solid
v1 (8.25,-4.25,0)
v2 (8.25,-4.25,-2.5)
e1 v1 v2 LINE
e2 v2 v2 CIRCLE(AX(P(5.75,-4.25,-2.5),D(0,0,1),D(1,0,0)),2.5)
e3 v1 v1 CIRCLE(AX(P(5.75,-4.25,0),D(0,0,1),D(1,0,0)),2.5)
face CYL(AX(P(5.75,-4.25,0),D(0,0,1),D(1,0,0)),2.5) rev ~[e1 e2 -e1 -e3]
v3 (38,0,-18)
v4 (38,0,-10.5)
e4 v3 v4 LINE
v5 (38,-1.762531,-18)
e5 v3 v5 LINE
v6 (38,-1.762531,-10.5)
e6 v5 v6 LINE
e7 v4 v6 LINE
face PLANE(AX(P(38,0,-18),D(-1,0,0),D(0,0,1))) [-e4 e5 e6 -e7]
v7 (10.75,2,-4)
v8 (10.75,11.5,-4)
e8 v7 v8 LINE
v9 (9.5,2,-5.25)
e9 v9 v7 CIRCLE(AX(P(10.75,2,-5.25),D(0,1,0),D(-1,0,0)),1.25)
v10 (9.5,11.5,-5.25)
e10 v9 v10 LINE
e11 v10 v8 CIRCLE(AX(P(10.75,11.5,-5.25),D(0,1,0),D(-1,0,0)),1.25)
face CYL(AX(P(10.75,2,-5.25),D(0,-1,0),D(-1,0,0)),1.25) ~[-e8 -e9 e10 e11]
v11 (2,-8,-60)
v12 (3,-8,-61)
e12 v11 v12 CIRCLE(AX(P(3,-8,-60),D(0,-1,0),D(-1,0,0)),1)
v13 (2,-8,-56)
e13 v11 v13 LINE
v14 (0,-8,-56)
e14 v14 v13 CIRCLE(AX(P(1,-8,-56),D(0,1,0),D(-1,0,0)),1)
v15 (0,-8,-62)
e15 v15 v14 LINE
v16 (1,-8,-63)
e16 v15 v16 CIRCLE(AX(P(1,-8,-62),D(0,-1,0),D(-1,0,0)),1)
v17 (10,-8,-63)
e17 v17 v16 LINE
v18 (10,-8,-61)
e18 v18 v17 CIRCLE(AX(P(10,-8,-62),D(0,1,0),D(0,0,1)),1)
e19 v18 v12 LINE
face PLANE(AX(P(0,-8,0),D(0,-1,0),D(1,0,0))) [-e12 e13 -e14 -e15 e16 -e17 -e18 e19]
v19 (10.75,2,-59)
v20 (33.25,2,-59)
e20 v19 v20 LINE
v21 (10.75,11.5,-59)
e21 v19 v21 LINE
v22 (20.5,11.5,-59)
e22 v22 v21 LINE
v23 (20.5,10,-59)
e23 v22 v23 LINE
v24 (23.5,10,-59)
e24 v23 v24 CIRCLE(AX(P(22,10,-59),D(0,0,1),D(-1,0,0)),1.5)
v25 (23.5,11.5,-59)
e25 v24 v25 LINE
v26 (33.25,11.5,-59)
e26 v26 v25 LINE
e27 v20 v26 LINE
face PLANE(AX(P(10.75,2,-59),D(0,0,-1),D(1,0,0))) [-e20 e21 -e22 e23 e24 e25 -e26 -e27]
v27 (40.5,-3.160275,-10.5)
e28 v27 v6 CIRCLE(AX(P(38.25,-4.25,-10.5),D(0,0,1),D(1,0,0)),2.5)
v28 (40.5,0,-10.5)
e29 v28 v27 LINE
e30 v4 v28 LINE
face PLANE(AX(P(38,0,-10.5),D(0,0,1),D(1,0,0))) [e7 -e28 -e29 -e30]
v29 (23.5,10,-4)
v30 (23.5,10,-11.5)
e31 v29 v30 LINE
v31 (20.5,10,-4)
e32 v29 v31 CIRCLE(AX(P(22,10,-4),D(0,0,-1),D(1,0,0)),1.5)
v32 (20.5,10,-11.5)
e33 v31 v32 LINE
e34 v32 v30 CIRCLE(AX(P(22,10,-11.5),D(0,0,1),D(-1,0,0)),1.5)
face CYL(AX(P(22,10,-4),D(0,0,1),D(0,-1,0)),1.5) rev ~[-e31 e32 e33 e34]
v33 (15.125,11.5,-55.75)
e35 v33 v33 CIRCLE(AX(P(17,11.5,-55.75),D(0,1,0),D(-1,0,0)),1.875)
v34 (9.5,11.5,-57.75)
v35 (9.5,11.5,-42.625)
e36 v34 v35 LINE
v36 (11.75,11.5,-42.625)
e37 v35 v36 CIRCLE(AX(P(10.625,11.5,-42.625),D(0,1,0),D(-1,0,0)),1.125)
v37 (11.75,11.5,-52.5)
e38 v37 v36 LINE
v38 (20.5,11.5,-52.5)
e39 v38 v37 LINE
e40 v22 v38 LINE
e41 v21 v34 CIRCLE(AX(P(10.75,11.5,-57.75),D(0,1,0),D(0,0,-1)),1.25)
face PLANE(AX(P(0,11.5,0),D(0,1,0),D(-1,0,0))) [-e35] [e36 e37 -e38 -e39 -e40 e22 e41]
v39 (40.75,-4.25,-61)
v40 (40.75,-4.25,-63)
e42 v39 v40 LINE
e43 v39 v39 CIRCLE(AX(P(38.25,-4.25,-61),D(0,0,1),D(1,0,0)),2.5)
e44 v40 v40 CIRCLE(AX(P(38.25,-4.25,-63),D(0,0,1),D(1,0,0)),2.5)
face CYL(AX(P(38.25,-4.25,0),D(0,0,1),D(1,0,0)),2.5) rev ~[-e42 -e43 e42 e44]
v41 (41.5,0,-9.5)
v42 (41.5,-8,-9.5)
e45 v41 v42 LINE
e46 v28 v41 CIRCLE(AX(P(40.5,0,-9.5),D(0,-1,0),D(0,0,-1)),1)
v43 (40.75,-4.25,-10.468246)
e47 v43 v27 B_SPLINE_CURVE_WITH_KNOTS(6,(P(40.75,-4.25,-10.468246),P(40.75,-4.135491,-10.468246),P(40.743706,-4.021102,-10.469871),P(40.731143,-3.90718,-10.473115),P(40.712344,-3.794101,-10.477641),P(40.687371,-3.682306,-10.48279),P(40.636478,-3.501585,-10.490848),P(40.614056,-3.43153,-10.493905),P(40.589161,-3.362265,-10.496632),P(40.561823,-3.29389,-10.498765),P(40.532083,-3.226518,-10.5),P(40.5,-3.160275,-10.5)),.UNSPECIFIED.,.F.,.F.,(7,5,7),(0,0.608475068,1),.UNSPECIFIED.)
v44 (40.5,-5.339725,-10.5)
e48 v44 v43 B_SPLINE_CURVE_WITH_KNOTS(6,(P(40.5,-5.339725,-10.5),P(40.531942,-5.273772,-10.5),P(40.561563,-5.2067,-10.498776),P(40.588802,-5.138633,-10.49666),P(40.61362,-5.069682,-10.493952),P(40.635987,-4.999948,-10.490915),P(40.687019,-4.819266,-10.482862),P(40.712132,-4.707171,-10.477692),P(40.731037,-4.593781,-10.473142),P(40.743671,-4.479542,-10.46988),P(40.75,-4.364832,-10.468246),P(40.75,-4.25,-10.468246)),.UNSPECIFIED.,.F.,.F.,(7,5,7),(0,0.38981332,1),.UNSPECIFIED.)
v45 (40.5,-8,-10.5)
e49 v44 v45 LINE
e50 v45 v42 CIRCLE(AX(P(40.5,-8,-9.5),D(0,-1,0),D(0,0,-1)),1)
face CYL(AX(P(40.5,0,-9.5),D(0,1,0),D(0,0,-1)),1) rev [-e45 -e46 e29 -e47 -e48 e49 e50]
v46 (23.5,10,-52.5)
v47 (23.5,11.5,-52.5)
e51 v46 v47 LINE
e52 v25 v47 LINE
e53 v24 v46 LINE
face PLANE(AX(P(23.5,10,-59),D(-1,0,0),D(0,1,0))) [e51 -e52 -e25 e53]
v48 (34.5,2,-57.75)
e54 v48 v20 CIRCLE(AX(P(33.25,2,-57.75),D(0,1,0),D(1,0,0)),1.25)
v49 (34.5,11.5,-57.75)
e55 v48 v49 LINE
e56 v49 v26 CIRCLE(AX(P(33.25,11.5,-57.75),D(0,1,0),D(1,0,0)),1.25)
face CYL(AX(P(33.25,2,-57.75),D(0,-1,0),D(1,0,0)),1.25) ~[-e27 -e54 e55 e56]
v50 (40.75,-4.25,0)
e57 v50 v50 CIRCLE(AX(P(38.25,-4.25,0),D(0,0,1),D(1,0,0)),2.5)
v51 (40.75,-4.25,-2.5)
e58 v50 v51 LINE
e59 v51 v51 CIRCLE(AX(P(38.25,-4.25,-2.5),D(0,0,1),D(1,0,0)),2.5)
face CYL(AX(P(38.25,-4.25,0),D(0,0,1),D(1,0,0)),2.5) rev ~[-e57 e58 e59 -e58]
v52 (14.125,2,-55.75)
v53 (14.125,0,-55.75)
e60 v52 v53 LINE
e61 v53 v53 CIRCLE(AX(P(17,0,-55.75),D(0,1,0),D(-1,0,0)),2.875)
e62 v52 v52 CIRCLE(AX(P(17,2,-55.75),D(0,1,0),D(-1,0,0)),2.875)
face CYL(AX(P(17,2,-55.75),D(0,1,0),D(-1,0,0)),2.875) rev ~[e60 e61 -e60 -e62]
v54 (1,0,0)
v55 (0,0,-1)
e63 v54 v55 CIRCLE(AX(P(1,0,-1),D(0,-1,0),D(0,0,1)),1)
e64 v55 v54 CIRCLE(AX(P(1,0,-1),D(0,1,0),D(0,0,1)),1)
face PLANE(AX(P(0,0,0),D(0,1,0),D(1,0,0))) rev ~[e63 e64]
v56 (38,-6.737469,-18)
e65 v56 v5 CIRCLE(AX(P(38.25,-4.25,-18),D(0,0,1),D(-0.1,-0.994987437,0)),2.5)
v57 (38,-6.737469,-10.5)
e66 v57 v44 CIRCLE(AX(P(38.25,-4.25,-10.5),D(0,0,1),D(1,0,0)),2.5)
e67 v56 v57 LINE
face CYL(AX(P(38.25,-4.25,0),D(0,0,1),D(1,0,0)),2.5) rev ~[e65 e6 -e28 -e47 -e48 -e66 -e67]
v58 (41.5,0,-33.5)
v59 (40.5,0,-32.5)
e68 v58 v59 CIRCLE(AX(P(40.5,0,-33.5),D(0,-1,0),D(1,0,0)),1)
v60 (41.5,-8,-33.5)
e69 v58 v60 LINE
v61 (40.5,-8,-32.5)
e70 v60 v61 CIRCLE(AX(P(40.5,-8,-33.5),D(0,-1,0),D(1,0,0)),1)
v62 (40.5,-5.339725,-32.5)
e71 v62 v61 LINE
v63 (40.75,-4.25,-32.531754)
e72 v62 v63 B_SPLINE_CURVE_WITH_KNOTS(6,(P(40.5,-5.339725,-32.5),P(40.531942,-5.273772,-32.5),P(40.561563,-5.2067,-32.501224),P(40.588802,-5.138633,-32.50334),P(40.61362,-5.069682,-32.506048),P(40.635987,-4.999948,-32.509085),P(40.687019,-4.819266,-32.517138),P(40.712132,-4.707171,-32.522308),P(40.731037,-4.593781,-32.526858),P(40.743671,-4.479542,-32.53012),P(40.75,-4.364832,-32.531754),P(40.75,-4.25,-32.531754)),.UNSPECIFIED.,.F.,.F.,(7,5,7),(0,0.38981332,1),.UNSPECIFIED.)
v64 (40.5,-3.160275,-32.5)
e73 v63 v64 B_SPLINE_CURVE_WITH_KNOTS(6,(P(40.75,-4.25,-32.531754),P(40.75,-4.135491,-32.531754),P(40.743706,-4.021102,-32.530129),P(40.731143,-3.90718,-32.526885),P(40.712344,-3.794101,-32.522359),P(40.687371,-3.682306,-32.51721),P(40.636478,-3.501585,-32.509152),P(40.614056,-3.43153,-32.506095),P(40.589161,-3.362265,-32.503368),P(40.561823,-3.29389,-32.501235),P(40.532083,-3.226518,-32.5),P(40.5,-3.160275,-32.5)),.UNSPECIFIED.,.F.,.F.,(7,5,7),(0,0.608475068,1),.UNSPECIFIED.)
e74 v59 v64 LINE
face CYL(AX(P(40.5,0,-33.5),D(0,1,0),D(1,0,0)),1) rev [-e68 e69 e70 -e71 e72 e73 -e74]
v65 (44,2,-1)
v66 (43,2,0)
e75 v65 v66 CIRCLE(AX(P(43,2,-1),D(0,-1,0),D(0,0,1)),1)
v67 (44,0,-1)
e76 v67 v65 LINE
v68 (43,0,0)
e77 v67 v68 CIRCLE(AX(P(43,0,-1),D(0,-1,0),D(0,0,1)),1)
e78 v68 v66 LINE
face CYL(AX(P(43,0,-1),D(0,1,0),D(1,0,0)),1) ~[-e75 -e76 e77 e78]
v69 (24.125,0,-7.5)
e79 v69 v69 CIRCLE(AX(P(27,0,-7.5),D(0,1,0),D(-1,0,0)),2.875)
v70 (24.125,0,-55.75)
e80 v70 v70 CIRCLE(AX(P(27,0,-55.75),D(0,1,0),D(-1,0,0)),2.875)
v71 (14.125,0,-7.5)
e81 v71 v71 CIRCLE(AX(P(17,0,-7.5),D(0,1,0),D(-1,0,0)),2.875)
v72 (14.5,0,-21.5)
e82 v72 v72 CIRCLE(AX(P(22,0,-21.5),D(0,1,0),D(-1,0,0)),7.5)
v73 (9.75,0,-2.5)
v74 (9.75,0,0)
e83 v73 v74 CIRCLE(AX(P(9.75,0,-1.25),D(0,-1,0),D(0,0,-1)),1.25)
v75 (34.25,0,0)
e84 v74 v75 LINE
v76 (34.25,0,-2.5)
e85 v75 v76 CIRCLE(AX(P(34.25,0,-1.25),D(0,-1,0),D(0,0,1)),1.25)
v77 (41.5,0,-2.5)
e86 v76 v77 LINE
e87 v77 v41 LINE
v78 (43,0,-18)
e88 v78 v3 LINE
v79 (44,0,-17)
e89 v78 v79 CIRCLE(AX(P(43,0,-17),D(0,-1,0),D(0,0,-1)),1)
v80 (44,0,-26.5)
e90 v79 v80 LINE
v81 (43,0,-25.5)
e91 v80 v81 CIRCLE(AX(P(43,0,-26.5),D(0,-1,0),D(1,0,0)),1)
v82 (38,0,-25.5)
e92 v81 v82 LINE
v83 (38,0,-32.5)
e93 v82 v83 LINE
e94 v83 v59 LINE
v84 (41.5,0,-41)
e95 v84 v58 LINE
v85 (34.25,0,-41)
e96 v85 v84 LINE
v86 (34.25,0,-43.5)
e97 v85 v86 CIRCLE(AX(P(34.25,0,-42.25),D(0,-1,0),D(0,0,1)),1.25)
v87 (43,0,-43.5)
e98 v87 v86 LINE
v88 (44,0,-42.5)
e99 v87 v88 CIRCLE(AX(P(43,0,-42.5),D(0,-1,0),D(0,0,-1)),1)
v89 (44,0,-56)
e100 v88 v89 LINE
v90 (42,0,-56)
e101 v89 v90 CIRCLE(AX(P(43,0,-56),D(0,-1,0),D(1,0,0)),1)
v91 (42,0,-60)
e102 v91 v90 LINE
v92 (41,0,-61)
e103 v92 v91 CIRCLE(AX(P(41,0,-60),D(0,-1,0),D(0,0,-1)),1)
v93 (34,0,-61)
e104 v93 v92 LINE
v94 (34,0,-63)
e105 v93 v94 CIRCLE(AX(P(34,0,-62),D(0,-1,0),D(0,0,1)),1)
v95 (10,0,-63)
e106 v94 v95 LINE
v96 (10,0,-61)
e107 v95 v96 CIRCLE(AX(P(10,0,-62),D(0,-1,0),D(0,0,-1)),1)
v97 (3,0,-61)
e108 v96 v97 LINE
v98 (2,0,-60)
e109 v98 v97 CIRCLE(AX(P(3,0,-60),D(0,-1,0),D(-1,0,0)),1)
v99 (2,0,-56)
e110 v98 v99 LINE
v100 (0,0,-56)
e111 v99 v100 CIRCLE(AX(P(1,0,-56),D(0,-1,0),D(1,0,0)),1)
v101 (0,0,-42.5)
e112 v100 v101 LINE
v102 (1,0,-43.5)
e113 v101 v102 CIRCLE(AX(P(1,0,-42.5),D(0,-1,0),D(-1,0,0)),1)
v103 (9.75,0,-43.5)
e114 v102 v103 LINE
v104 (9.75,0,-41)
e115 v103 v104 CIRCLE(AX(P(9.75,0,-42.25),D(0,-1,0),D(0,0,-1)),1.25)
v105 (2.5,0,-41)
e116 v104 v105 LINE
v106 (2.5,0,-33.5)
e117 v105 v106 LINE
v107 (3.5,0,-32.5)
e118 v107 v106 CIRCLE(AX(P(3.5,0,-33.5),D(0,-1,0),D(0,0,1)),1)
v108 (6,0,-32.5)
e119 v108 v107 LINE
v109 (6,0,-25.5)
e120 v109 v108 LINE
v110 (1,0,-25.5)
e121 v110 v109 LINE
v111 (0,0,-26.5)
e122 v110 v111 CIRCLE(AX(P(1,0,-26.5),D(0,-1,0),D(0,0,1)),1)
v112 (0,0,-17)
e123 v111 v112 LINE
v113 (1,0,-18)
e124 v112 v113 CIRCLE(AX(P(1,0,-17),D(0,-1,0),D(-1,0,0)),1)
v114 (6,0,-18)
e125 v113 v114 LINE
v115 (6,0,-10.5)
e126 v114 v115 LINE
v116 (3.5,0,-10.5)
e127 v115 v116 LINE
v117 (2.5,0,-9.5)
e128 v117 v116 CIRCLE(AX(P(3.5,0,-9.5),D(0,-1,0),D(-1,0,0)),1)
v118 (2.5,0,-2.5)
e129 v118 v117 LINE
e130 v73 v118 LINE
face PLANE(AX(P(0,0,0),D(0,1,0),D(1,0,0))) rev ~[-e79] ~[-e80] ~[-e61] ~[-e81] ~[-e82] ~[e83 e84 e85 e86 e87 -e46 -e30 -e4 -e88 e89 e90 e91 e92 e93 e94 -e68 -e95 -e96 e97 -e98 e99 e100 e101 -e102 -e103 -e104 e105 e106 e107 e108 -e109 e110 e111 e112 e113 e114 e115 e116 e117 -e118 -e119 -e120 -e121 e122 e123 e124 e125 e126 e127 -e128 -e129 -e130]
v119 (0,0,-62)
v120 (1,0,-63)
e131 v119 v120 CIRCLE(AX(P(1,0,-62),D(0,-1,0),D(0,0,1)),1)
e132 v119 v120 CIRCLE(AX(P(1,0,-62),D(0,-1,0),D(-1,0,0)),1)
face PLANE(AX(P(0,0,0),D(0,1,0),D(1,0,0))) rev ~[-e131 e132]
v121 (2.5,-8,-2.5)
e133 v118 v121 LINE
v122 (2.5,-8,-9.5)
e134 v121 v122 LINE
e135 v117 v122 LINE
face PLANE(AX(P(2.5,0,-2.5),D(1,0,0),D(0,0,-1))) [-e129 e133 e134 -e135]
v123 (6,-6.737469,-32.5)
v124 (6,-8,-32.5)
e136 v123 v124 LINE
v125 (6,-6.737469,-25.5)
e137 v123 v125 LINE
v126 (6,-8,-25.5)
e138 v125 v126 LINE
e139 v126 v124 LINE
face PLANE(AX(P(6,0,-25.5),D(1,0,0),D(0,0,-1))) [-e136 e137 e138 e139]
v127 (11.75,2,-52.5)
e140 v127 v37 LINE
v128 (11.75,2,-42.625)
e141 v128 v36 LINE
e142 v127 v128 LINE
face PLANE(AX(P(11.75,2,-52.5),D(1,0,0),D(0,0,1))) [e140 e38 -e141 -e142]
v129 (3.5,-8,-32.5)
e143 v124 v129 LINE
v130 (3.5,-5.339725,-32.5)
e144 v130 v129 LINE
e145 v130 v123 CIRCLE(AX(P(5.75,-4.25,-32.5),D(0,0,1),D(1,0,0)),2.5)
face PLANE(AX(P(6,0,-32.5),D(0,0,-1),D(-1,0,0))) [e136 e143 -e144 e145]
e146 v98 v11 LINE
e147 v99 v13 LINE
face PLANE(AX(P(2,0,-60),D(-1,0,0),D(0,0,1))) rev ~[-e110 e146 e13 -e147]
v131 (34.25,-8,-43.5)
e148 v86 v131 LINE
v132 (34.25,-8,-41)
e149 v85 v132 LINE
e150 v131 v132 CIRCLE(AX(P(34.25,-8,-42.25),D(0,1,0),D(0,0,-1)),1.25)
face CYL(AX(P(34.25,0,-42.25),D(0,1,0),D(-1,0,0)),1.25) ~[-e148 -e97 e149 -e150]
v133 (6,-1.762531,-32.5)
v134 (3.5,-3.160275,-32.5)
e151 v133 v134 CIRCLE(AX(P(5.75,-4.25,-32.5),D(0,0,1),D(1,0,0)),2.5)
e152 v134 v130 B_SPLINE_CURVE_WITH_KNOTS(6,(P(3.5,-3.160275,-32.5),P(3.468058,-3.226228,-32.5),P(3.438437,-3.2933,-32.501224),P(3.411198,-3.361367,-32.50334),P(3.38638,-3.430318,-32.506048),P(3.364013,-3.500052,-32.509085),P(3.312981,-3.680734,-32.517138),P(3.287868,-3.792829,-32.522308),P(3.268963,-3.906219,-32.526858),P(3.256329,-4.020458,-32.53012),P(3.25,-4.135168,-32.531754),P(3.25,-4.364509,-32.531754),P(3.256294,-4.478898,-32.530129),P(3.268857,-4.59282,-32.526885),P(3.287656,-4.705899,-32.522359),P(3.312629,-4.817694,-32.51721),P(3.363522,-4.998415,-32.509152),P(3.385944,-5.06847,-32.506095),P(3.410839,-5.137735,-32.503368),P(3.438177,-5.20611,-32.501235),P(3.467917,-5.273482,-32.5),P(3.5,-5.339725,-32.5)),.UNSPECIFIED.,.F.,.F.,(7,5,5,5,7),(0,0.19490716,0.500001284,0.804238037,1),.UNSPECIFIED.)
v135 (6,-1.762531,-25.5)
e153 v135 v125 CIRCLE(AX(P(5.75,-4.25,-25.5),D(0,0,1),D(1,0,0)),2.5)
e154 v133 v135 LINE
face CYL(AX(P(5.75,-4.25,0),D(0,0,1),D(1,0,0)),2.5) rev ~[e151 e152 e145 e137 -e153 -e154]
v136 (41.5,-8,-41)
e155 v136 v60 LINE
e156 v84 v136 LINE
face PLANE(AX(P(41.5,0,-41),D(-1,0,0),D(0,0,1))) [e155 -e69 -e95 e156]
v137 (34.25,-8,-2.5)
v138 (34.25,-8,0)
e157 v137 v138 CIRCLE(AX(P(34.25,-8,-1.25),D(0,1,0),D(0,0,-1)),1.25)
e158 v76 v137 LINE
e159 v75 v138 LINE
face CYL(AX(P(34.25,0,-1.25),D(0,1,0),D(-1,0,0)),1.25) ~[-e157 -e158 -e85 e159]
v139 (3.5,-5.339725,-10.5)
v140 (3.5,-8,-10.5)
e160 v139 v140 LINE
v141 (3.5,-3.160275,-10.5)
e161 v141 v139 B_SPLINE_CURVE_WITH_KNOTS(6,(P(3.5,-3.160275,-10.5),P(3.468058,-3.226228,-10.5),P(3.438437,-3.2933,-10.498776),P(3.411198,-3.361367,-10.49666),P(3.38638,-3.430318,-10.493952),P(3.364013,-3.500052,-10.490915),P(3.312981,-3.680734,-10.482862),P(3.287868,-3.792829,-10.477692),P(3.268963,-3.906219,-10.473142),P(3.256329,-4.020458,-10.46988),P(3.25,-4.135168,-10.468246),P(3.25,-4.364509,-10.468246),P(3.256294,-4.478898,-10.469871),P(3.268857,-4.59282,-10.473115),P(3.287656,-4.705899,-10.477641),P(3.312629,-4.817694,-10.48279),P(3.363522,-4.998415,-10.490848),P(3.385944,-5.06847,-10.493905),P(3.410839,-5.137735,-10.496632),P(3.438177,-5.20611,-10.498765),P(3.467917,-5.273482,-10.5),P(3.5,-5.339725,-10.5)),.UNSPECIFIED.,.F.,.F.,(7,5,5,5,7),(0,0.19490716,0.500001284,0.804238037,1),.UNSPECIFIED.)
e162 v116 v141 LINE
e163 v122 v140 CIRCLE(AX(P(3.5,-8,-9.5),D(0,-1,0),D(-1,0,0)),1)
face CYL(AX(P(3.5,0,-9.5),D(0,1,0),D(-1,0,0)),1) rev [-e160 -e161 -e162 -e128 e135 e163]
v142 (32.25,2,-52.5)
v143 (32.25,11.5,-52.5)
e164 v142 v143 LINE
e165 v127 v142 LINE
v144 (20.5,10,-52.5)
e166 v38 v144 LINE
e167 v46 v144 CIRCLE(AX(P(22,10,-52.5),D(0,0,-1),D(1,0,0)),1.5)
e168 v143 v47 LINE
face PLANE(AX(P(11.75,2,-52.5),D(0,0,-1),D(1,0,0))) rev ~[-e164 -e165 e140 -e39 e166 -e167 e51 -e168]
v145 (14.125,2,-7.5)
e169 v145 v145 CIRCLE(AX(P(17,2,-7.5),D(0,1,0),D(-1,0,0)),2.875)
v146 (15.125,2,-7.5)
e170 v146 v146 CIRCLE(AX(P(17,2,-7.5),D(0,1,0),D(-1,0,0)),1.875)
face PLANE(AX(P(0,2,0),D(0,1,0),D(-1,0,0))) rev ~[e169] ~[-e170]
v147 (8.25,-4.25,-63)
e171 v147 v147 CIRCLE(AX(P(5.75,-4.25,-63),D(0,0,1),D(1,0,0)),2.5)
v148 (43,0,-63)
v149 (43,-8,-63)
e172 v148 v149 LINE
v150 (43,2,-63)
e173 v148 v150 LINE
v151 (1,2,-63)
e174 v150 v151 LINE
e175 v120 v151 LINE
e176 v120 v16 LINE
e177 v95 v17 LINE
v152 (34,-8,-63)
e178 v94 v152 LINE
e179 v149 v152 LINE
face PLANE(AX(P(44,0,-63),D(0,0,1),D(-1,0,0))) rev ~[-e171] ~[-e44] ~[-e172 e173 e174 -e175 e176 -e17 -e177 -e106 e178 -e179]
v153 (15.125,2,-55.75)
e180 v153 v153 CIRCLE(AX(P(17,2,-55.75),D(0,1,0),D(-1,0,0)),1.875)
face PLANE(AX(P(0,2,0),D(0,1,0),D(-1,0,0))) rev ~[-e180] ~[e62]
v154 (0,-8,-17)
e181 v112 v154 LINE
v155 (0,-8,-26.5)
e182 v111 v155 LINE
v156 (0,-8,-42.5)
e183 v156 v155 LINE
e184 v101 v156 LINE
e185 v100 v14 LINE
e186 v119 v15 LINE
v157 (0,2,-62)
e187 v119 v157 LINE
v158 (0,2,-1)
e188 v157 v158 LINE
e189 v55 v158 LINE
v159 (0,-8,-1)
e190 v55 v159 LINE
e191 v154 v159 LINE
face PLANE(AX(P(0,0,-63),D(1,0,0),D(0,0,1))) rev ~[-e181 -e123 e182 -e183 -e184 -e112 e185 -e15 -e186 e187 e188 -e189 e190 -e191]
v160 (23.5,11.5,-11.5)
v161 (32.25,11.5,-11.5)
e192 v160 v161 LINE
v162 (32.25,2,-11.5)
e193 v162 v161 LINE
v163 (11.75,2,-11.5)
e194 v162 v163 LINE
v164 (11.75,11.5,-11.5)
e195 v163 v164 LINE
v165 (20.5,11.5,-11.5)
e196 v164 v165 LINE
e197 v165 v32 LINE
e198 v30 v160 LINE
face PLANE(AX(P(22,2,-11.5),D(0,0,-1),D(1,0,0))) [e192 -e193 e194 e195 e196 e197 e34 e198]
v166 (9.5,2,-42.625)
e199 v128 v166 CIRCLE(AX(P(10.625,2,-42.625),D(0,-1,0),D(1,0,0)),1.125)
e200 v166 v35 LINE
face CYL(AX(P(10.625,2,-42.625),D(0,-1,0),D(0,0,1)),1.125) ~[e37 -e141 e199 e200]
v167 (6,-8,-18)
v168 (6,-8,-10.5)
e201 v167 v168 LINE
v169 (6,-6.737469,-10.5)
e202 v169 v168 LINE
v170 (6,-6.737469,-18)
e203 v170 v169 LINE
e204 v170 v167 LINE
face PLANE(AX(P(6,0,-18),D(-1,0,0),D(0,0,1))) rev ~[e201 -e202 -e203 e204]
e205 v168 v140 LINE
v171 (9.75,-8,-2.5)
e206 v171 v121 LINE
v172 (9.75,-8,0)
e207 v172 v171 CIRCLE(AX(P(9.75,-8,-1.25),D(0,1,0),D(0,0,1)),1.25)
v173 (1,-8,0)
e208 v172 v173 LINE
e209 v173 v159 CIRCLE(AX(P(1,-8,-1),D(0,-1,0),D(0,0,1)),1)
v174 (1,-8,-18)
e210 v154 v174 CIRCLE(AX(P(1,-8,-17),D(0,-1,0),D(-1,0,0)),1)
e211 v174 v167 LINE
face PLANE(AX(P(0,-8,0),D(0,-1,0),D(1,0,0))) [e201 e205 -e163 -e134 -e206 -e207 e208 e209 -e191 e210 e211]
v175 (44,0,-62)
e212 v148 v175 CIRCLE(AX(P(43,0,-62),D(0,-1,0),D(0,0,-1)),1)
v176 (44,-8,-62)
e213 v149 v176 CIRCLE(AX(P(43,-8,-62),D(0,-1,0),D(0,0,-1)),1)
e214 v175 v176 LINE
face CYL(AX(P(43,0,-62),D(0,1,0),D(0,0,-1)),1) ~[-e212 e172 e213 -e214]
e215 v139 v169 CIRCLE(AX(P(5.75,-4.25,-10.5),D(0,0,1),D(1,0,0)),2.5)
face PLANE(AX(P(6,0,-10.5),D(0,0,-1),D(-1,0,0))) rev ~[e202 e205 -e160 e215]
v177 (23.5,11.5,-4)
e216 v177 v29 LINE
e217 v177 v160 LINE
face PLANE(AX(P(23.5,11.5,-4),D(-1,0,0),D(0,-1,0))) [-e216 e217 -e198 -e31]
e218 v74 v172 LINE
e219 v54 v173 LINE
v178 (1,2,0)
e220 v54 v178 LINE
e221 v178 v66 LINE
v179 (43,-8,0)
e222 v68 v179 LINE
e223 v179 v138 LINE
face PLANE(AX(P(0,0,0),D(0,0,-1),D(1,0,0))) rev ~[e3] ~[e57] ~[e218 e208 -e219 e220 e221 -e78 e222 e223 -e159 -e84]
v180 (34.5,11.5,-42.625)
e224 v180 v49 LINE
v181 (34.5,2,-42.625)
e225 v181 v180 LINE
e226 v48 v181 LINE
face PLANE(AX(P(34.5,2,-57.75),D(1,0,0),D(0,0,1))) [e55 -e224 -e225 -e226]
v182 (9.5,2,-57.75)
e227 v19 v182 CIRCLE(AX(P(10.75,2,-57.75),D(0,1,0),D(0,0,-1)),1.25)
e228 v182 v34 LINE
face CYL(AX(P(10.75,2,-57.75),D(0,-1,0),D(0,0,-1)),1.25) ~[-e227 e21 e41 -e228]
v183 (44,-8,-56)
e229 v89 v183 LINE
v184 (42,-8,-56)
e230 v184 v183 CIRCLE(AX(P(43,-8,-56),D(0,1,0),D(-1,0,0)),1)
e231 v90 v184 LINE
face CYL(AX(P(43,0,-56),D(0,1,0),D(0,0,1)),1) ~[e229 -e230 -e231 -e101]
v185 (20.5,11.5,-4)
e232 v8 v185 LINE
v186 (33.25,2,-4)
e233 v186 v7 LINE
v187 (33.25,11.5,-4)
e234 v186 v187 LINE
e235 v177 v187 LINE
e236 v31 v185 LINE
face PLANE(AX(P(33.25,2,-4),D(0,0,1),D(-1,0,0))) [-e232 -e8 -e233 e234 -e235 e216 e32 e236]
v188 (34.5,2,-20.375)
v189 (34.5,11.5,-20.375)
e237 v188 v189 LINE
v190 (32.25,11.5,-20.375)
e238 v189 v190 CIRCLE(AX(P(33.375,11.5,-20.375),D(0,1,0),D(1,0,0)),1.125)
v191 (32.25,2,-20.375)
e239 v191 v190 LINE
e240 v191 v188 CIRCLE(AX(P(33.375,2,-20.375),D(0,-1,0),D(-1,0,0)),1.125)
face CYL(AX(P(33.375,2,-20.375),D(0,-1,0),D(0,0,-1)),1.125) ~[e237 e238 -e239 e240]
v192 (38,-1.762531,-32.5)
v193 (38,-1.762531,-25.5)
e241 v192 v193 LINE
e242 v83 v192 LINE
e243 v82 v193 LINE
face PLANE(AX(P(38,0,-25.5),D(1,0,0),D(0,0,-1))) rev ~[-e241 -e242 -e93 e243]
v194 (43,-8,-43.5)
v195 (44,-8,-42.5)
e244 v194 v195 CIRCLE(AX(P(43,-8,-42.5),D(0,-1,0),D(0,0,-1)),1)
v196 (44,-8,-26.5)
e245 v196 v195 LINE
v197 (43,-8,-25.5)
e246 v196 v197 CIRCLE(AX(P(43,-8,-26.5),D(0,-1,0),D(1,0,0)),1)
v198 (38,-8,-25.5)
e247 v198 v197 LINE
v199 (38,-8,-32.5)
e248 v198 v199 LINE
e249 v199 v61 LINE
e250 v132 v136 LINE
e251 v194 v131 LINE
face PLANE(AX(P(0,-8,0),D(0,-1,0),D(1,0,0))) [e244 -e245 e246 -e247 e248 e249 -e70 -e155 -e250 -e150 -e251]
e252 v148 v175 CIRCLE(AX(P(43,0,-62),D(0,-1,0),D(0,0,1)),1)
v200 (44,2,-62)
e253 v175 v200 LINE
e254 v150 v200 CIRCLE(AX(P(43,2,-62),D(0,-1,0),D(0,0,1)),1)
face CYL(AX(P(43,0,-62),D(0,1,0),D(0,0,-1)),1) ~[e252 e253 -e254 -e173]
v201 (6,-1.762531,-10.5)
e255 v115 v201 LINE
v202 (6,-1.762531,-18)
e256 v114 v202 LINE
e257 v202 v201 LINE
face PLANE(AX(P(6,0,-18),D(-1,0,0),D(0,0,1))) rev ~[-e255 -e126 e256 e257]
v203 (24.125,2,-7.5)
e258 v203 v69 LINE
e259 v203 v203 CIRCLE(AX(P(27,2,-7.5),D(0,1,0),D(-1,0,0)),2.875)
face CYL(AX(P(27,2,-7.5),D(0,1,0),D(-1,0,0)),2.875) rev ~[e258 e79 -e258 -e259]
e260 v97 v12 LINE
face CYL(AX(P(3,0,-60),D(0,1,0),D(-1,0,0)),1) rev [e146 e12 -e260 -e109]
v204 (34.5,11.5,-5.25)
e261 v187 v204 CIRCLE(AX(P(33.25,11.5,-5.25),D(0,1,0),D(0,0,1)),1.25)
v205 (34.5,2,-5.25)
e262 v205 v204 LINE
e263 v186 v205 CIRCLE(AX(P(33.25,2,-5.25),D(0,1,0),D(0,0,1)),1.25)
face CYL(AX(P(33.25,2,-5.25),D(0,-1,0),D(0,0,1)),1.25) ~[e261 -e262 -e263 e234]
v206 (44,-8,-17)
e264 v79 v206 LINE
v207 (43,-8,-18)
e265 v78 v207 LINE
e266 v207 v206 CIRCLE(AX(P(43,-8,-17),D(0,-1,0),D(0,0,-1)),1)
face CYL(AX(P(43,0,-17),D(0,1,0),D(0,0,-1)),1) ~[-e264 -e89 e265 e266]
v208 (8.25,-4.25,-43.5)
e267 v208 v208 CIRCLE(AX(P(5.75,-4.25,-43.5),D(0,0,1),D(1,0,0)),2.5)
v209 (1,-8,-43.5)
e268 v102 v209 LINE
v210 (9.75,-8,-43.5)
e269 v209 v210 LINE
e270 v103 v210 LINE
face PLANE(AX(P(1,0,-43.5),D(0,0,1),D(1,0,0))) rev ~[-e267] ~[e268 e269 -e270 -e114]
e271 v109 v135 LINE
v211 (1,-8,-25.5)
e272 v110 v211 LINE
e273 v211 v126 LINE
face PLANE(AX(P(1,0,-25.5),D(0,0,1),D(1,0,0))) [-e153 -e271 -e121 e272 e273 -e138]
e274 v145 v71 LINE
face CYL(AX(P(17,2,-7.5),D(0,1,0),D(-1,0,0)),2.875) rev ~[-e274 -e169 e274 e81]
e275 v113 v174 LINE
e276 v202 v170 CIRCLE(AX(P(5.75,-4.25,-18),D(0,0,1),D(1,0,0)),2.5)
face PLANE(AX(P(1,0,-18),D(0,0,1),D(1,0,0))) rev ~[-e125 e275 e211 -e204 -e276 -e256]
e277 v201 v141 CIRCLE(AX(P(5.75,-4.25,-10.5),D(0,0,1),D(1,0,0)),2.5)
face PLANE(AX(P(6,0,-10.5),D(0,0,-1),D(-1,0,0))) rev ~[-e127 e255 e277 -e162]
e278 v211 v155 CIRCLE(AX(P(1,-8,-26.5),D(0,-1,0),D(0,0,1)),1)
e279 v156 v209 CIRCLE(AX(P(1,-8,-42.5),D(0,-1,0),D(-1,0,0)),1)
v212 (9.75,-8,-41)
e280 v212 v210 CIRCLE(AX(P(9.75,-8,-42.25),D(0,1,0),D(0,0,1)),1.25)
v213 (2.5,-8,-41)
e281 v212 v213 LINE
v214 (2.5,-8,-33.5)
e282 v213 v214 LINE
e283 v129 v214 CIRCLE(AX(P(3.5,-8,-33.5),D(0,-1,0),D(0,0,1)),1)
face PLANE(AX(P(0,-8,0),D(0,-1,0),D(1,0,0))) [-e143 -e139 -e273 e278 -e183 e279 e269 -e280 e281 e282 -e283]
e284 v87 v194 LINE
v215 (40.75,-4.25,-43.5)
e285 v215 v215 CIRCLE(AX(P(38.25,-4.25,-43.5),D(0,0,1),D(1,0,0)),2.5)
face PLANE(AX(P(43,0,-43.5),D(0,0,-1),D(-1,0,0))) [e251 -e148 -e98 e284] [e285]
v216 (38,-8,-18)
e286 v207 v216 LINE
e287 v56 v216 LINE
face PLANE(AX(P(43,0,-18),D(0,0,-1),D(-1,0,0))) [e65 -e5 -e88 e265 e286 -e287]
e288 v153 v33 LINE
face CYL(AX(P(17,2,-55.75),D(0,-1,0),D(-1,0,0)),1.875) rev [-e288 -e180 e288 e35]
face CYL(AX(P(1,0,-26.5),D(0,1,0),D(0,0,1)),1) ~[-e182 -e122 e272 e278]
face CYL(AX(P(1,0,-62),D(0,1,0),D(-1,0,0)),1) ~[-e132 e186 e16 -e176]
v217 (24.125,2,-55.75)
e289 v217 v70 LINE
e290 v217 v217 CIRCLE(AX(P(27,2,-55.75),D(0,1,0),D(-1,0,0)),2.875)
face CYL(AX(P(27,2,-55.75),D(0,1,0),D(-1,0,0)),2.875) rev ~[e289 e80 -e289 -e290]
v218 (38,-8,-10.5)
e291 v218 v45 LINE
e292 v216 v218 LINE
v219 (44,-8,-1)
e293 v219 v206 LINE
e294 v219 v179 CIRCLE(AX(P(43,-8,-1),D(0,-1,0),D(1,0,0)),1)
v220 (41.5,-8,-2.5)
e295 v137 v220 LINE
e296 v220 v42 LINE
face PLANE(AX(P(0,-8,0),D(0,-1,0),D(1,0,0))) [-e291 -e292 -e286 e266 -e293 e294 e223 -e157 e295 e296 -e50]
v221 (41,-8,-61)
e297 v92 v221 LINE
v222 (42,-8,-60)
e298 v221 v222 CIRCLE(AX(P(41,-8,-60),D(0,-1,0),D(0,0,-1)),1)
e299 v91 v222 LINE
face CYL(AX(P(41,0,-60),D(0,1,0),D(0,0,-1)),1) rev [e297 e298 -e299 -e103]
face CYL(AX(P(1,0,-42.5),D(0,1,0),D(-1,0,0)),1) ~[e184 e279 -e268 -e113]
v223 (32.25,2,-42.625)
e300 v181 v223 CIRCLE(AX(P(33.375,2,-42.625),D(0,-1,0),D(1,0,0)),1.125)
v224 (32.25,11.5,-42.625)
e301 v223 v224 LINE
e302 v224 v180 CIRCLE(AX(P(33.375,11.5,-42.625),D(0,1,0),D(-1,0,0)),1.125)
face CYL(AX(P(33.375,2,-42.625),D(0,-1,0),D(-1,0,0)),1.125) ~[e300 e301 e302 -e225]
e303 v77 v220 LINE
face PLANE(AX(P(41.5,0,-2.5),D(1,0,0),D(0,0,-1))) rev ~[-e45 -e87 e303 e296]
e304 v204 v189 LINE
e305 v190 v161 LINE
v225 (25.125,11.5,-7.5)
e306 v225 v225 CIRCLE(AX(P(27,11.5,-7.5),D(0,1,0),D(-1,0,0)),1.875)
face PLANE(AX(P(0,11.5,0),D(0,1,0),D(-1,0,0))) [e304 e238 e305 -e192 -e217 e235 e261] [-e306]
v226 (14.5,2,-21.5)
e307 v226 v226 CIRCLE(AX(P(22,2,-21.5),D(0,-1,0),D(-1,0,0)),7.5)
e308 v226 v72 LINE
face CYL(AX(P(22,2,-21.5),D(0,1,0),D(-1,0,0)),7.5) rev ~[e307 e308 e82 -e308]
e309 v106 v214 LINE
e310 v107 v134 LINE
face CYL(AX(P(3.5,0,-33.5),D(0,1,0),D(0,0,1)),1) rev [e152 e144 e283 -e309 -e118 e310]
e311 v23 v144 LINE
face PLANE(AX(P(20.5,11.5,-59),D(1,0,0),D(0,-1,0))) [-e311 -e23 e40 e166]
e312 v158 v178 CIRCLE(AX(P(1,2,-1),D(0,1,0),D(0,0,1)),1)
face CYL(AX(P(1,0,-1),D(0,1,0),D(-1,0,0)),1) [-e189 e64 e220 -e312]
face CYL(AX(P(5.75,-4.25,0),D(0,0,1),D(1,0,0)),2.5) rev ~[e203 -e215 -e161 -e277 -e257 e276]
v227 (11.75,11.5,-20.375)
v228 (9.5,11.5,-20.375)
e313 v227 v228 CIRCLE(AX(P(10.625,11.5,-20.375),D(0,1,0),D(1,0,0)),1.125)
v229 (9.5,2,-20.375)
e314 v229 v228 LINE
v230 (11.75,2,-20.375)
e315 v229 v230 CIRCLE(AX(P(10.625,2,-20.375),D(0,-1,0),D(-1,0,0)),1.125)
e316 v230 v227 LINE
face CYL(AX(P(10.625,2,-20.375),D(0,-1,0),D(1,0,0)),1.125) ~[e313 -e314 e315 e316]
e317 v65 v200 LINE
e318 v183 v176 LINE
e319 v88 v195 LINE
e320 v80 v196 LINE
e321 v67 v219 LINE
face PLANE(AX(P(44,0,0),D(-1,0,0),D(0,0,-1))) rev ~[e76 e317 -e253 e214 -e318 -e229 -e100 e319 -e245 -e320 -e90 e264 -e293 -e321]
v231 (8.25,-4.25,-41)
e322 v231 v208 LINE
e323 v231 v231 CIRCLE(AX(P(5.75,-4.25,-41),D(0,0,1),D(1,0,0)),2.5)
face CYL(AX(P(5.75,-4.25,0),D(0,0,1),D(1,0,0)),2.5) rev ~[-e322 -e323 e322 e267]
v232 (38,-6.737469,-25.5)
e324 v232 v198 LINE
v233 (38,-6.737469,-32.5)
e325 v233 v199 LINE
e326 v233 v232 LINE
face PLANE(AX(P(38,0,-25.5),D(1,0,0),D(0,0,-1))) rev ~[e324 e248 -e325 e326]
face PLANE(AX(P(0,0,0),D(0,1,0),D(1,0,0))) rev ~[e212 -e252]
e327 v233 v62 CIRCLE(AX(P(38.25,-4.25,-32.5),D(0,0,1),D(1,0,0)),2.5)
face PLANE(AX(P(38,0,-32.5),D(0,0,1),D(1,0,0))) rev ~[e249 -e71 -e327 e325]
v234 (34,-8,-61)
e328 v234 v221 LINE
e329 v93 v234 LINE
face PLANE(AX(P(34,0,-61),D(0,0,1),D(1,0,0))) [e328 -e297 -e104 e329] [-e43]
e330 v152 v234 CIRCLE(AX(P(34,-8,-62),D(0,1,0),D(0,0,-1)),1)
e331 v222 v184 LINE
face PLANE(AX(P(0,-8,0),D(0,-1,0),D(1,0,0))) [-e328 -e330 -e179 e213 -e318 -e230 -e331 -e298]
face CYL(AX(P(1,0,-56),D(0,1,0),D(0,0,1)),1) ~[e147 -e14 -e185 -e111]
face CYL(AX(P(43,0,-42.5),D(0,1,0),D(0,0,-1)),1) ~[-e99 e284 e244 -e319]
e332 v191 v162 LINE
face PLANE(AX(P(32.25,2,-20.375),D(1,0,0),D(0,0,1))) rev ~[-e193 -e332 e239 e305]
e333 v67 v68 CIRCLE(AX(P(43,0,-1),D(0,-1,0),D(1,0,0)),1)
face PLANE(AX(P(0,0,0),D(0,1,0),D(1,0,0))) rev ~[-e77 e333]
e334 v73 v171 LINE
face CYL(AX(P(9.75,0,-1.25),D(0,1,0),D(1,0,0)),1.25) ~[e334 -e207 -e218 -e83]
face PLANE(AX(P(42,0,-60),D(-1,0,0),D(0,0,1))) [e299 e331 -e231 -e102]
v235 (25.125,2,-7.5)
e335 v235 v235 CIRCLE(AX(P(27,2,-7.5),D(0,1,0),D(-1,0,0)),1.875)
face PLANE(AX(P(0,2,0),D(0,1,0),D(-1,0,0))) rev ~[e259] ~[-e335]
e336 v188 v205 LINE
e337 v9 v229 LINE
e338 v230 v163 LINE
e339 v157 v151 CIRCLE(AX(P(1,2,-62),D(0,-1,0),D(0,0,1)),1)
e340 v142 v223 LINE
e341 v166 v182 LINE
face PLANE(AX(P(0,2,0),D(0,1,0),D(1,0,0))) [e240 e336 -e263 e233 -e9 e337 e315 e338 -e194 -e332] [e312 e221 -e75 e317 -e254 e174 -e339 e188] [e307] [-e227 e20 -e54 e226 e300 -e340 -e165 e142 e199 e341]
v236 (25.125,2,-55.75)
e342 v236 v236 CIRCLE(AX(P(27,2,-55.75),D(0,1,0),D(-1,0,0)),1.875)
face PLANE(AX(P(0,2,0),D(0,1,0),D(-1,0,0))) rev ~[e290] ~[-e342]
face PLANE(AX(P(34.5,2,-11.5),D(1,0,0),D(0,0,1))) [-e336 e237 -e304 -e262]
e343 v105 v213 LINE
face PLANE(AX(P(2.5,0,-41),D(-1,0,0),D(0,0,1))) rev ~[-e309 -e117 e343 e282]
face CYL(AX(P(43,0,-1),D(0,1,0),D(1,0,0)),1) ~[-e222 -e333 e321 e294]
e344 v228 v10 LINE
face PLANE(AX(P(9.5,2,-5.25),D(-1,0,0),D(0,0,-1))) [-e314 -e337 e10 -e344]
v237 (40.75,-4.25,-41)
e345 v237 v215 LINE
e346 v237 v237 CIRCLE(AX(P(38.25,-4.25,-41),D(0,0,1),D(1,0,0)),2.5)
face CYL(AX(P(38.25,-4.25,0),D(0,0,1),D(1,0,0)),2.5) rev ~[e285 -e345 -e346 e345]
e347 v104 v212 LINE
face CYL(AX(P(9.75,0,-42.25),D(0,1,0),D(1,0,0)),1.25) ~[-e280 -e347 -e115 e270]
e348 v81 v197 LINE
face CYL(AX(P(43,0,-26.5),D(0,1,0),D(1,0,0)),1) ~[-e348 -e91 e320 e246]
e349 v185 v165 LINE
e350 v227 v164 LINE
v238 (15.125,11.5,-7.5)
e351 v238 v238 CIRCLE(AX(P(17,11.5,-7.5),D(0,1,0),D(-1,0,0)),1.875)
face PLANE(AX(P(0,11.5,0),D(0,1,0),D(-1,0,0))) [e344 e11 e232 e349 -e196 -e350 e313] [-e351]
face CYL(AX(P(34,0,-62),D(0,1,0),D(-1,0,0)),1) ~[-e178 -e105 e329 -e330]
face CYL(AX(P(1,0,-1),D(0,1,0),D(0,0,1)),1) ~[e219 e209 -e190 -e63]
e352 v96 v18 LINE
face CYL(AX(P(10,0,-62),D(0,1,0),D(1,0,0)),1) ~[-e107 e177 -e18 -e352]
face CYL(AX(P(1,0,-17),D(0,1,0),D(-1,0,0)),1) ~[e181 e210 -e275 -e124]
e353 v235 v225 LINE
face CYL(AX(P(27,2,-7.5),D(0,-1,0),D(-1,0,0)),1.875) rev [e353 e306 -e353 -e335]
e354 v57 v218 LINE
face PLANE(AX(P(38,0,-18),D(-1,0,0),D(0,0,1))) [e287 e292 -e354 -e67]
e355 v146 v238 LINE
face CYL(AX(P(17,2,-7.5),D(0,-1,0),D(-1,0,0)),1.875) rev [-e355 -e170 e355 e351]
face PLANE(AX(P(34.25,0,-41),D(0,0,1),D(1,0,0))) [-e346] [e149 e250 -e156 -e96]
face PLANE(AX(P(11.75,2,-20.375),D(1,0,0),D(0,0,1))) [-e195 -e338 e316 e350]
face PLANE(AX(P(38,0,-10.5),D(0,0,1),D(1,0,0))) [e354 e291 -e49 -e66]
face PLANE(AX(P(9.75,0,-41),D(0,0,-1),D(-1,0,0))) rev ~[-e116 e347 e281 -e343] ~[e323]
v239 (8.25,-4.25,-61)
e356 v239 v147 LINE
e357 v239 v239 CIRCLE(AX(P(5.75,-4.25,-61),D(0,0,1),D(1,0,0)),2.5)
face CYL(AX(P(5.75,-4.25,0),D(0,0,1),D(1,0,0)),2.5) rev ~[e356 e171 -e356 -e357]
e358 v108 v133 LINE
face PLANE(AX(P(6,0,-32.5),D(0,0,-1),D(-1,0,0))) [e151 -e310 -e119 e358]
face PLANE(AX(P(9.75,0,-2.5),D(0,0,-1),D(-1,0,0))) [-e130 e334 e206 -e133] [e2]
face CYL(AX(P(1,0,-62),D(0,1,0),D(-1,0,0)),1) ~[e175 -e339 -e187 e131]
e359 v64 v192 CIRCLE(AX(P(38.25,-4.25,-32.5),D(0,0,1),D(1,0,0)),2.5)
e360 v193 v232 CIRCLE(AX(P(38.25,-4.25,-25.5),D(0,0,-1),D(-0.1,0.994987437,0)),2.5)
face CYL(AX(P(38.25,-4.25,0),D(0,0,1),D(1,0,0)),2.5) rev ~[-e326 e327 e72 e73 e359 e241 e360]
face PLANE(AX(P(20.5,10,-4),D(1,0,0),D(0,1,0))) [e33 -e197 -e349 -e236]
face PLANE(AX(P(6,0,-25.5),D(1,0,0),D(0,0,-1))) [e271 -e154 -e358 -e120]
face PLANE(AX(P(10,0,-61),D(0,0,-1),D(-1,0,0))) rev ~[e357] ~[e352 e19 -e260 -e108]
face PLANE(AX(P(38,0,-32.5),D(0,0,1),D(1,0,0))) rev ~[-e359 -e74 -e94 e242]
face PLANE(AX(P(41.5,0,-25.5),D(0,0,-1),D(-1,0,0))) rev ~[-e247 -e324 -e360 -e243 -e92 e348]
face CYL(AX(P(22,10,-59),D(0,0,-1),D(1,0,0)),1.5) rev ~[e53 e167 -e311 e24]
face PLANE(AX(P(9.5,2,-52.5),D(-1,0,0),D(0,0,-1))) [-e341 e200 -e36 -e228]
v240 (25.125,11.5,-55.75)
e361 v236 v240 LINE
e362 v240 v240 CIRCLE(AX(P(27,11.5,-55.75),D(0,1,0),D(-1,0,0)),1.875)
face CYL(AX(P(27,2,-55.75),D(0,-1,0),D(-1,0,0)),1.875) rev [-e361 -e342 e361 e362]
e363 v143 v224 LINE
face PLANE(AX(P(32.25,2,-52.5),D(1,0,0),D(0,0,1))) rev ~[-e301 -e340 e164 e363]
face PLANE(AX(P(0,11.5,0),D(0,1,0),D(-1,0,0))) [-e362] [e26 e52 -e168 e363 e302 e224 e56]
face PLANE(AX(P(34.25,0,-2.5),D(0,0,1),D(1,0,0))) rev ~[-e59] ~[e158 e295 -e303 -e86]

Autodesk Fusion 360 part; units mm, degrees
sketch "Base" plane through (0, 0, 0) normal (0, 1, 0) x (1, 0, 0)
  line L0 (0, 0) -> (44, 0)
  line L1 (44, 0) -> (44, 63)
  line L2 (44, 63) -> (0, 63)
  line L3 (0, 63) -> (0, 0)
  dimension "d1" = 44
  dimension "d2" = 63
extrude "Extrude1" add sketch "Base" along normal blind 2
sketch "Servo_Mount" plane through (0, 2, 0) normal (0, 1, 0) x (-1, 0, 0)
  line L0 (0, -63) -> (0, 0)
  line L1 (0, 0) -> (-44, 0)
  line L2 (-44, 0) -> (-44, -63)
  line L3 (-44, -63) -> (0, -63)
  line L4 (-10.75, -59) -> (-33.25, -59)
  line L5 (-33.25, -4) -> (-10.75, -4)
  line L6 (-9.5, -52.5) -> (-34.5, -52.5)
  line L7 (-9.5, -11.5) -> (-34.5, -11.5)
  line L8 (-22, 0) -> (-22, -72)
  circle A0 centre (-17, -55.75) radius 1.875
  circle A1 centre (-27, -55.75) radius 1.875
  circle A2 centre (-17, -7.5) radius 1.875
  circle A3 centre (-27, -7.5) radius 1.875
  circle A4 centre (-22, -21.5) radius 7.5
  arc A5 (-9.5, -5.25) -> (-10.75, -4) centre (-10.75, -5.25) ccw
  arc A6 (-33.25, -4) -> (-34.5, -5.25) centre (-33.25, -5.25) ccw
  arc A7 (-10.75, -59) -> (-9.5, -57.75) centre (-10.75, -57.75) ccw
  arc A8 (-34.5, -57.75) -> (-33.25, -59) centre (-33.25, -57.75) ccw
  line L9 (-11.75, -52.5) -> (-11.75, -42.625)
  line L10 (-11.75, -20.375) -> (-11.75, -11.5)
  line L11 (-9.5, -5.25) -> (-9.5, -20.375)
  line L12 (-9.5, -42.625) -> (-9.5, -57.75)
  line L13 (-32.25, -52.5) -> (-32.25, -42.625)
  line L14 (-32.25, -20.375) -> (-32.25, -11.5)
  line L15 (-34.5, -57.75) -> (-34.5, -42.625)
  line L16 (-34.5, -20.375) -> (-34.5, -5.25)
  arc A9 (-10.625, -41.5) -> (-11.75, -42.625) centre (-10.625, -42.625) ccw
  arc A10 (-9.5, -42.625) -> (-10.625, -41.5) centre (-10.625, -42.625) ccw
  arc A11 (-32.25, -42.625) -> (-33.375, -41.5) centre (-33.375, -42.625) ccw
  arc A12 (-33.375, -41.5) -> (-34.5, -42.625) centre (-33.375, -42.625) ccw
  arc A13 (-33.375, -21.5) -> (-32.25, -20.375) centre (-33.375, -20.375) ccw
  arc A14 (-34.5, -20.375) -> (-33.375, -21.5) centre (-33.375, -20.375) ccw
  arc A15 (-10.625, -21.5) -> (-9.5, -20.375) centre (-10.625, -20.375) ccw
  arc A16 (-11.75, -20.375) -> (-10.625, -21.5) centre (-10.625, -20.375) ccw
  circle A17 centre (-27, -7.5) radius 2.875
  circle A18 centre (-17, -7.5) radius 2.875
  circle A19 centre (-27, -55.75) radius 2.875
  circle A20 centre (-17, -55.75) radius 2.875
  point P0 (-9.5, -59)
  point P1 (-34.5, -59)
  point P2 (-9.5, -4)
  dimension "d5" = 25
  dimension "d6" = 55
  dimension "d7" = 4
  dimension "d8" = 9.5
  dimension "d9" = 25
  dimension "d10" = 6.5
  dimension "d11" = 7.5
  dimension "d12" = 41
  dimension "d13" = 41
  dimension "d14" = 2.25
  dimension "d15" = 2.25
  dimension "d16" = 3.75
  dimension "d17" = 3.75
  dimension "d18" = 3.25
  dimension "d19" = 3.25
  dimension "d20" = 5
  dimension "d21" = 5
  dimension "d22" = 3.75
  dimension "d23" = 3.75
  dimension "d24" = 4
  dimension "d25" = 4
  dimension "d26" = 5
  dimension "d27" = 5
  dimension "d28" = 15
  dimension "d29" = 10
  dimension "d34" = 1.25
  dimension "d35" = 1.25
  dimension "d36" = 1.25
  dimension "d37" = 1.25
  dimension "d38" = 1.125
  dimension "d39" = 1.125
  dimension "d40" = 1.125
  dimension "d41" = 1.125
  dimension "d42" = 1.125
  dimension "d43" = 1.125
  dimension "d44" = 1.125
  dimension "d45" = 1.125
  dimension "d57" = 22.25
  dimension "d119" = 5.75
  dimension "d120" = 5.75
  dimension "d121" = 5.75
  dimension "d122" = 5.75
extrude "Extrude2" cut sketch "Servo_Mount" against normal blind 9 contours L8 A4 | L8 A4
extrude "Extrude3" add sketch "Servo_Mount" along normal blind 9.5 contours L4 L6 L8 A7 L12 | L4 L6 L8 A8 L15 | L5 L7 L8 A6 L16 | L5 L7 L8 A5 L11 | L6 L9 L12 A9 A10 | L6 L13 L15 A11 A12 | L7 L10 L11 A15 A16 | L7 L14 L16 A13 A14 | A17 | A18 | A19 | A20
sketch "Top_Through_Front" plane through (0, 0, -4) normal (0, 0, 1) x (1, 0, 0)
  line L0 (10.75, 2) -> (33.25, 2)
  line L1 (33.25, 2) -> (33.25, 11.5)
  line L2 (33.25, 11.5) -> (10.75, 11.5)
  line L3 (10.75, 11.5) -> (10.75, 2)
  line L4 (20.5, 11.5) -> (23.5, 11.5)
  line L5 (23.5, 11.5) -> (23.5, 10)
  line L6 (20.5, 10) -> (20.5, 11.5)
  arc A0 (20.5, 10) -> (22, 8.5) centre (22, 10) ccw
  arc A1 (22, 8.5) -> (23.5, 10) centre (22, 10) ccw
  point P0 (20.5, 8.5)
  dimension "d50" = 3
  dimension "d51" = 3
  dimension "d52" = 9.75
  dimension "d53" = 1.5
  dimension "d54" = 1.5
extrude "Extrude4" cut sketch "Top_Through_Front" against normal blind 15 contours L2 L4 L5 L6 A0 A1
sketch "Top_Through_Back" plane through (0, 0, -59) normal (0, 0, -1) x (-1, 0, 0)
  line L0 (-33.25, 2) -> (-10.75, 2)
  line L1 (-10.75, 2) -> (-10.75, 11.5)
  line L2 (-10.75, 11.5) -> (-33.25, 11.5)
  line L3 (-33.25, 11.5) -> (-33.25, 2)
  line L4 (-23.5, 11.5) -> (-20.5, 11.5)
  line L5 (-20.5, 11.5) -> (-20.5, 10)
  line L6 (-23.5, 10) -> (-23.5, 11.5)
  arc A0 (-22, 8.5) -> (-20.5, 10) centre (-22, 10) ccw
  arc A1 (-23.5, 10) -> (-22, 8.5) centre (-22, 10) ccw
  point P0 (-23.5, 8.5)
  dimension "d58" = 3
  dimension "d59" = 3
  dimension "d60" = 9.75
  dimension "d61" = 1.5
  dimension "d62" = 1.5
extrude "Extrude5" cut sketch "Top_Through_Back" against normal blind 13 contours L2 L4 L5 L6 A0 A1
sketch "Back_Side" plane through (0, 0, 0) normal (0, -1, 0) x (1, 0, 0)
  circle A0 centre (22, -21.5) radius 7.5
  line L0 (0, 0) -> (0, -63)
  line L1 (0, -63) -> (44, -63)
  line L2 (44, -63) -> (44, 0)
  line L3 (44, 0) -> (0, 0)
  line L4 (1, -63) -> (10, -63)
  line L5 (10, -61) -> (3, -61)
  line L6 (0, -61) -> (0, -62)
  arc A1 (10, -63) -> (11, -62) centre (10, -62) ccw
  arc A2 (11, -62) -> (10, -61) centre (10, -62) ccw
  arc A3 (0, -62) -> (1, -63) centre (1, -62) ccw
  line L7 (1, -63) -> (2, -63)
  line L8 (2, -60) -> (2, -56)
  line L9 (0, -56) -> (0, -62)
  arc A4 (2, -60) -> (3, -61) centre (3, -60) ccw
  arc A5 (2, -56) -> (1, -55) centre (1, -56) ccw
  arc A6 (1, -55) -> (0, -56) centre (1, -56) ccw
  line L10 (1, -43.5) -> (9.75, -43.5)
  line L11 (9.75, -41) -> (2.5, -41)
  line L12 (0, -41) -> (0, -42.5)
  arc A7 (9.75, -43.5) -> (11, -42.25) centre (9.75, -42.25) ccw
  arc A8 (11, -42.25) -> (9.75, -41) centre (9.75, -42.25) ccw
  line L13 (2.5, -41) -> (2.5, -33.5)
  line L14 (0, -26.5) -> (0, -41)
  arc A9 (0, -42.5) -> (1, -43.5) centre (1, -42.5) ccw
  arc A10 (1, -25.5) -> (0, -26.5) centre (1, -26.5) ccw
  line L15 (1, 0) -> (9.75, 0)
  line L16 (9.75, -2.5) -> (2.5, -2.5)
  line L17 (0, -2.5) -> (0, -1)
  arc A11 (11, -1.25) -> (9.75, 0) centre (9.75, -1.25) ccw
  arc A12 (9.75, -2.5) -> (11, -1.25) centre (9.75, -1.25) ccw
  arc A13 (1, 0) -> (0, -1) centre (1, -1) ccw
  line L18 (2.5, -2.5) -> (2.5, -9.5)
  line L19 (0, -17) -> (0, -2.5)
  arc A14 (0, -17) -> (1, -18) centre (1, -17) ccw
  line L20 (43, -63) -> (34, -63)
  line L21 (34, -61) -> (41, -61)
  line L22 (44, -61) -> (44, -62)
  arc A15 (33, -62) -> (34, -63) centre (34, -62) ccw
  arc A16 (34, -61) -> (33, -62) centre (34, -62) ccw
  line L23 (43, -63) -> (42, -63)
  line L24 (42, -60) -> (42, -56)
  line L25 (44, -56) -> (44, -62)
  arc A17 (43, -55) -> (42, -56) centre (43, -56) ccw
  arc A18 (44, -56) -> (43, -55) centre (43, -56) ccw
  arc A19 (41, -61) -> (42, -60) centre (41, -60) ccw
  arc A20 (43, -63) -> (44, -62) centre (43, -62) ccw
  line L26 (43, -43.5) -> (34.25, -43.5)
  line L27 (34.25, -41) -> (41.5, -41)
  line L28 (44, -41) -> (44, -42.5)
  line L29 (41.5, -41) -> (41.5, -33.5)
  line L30 (41.5, -25.5) -> (43, -25.5)
  line L31 (44, -26.5) -> (44, -41)
  arc A21 (33, -42.25) -> (34.25, -43.5) centre (34.25, -42.25) ccw
  arc A22 (34.25, -41) -> (33, -42.25) centre (34.25, -42.25) ccw
  arc A23 (43, -43.5) -> (44, -42.5) centre (43, -42.5) ccw
  arc A24 (44, -26.5) -> (43, -25.5) centre (43, -26.5) ccw
  line L32 (43, 0) -> (34.25, 0)
  line L33 (34.25, -2.5) -> (41.5, -2.5)
  line L34 (44, -2.5) -> (44, -1)
  line L35 (41.5, -2.5) -> (41.5, -9.5)
  line L36 (44, -17) -> (44, -2.5)
  arc A25 (33, -1.25) -> (34.25, -2.5) centre (34.25, -1.25) ccw
  arc A26 (34.25, 0) -> (33, -1.25) centre (34.25, -1.25) ccw
  arc A27 (44, -1) -> (43, 0) centre (43, -1) ccw
  arc A28 (43, -18) -> (44, -17) centre (43, -17) ccw
  line L37 (43, -25.5) -> (38, -25.5)
  line L38 (38, -25.5) -> (38, -32.5)
  line L39 (38, -32.5) -> (40.5, -32.5)
  arc A29 (41.5, -33.5) -> (40.5, -32.5) centre (40.5, -33.5) ccw
  line L40 (1, -25.5) -> (6, -25.5)
  line L41 (6, -25.5) -> (6, -32.5)
  line L42 (6, -32.5) -> (3.5, -32.5)
  arc A30 (3.5, -32.5) -> (2.5, -33.5) centre (3.5, -33.5) ccw
  line L43 (43, -18) -> (38, -18)
  line L44 (38, -18) -> (38, -10.5)
  line L45 (38, -10.5) -> (40.5, -10.5)
  arc A31 (40.5, -10.5) -> (41.5, -9.5) centre (40.5, -9.5) ccw
  line L46 (1, -18) -> (6, -18)
  line L47 (6, -18) -> (6, -10.5)
  line L48 (6, -10.5) -> (3.5, -10.5)
  arc A32 (2.5, -9.5) -> (3.5, -10.5) centre (3.5, -9.5) ccw
  point P0 (0, -63)
  point P1 (11, -63)
  point P2 (0, -55)
  point P3 (0, -43.5)
  point P4 (11, -43.5)
  point P5 (0, -25.5)
  point P6 (11, 0)
  point P7 (0, -18)
  point P8 (33, -63)
  point P9 (44, -55)
  point P10 (44, -43.5)
  point P11 (33, -43.5)
  point P12 (44, -25.5)
  point P13 (44, 0)
  point P14 (33, 0)
  point P15 (44, -18)
  dimension "d65" = 11
  dimension "d66" = 2
  dimension "d67" = 1
  dimension "d68" = 1
  dimension "d69" = 1
  dimension "d70" = 2
  dimension "d71" = 8
  dimension "d72" = 1
  dimension "d73" = 1
  dimension "d74" = 1
  dimension "d75" = 11
  dimension "d76" = 2.5
  dimension "d77" = 17.5
  dimension "d78" = 1.25
  dimension "d79" = 1.25
  dimension "d80" = 2.5
  dimension "d81" = 15.5
  dimension "d82" = 1
  dimension "d83" = 1
  dimension "d84" = 11
  dimension "d85" = 2.5
  dimension "d86" = 1.25
  dimension "d87" = 1.25
  dimension "d88" = 1
  dimension "d89" = 2.5
  dimension "d90" = 15.5
  dimension "d91" = 1
  dimension "d92" = 11
  dimension "d93" = 2
  dimension "d94" = 1
  dimension "d95" = 1
  dimension "d96" = 2
  dimension "d97" = 8
  dimension "d98" = 1
  dimension "d99" = 1
  dimension "d100" = 1
  dimension "d101" = 1
  dimension "d102" = 11
  dimension "d103" = 2.5
  dimension "d104" = 17.5
  dimension "d105" = 2.5
  dimension "d106" = 15.5
  dimension "d107" = 1.25
  dimension "d108" = 1.25
  dimension "d109" = 1
  dimension "d110" = 1
  dimension "d111" = 11
  dimension "d112" = 2.5
  dimension "d113" = 2.5
  dimension "d114" = 15.5
  dimension "d115" = 1.25
  dimension "d116" = 1.25
  dimension "d117" = 1
  dimension "d118" = 1
  dimension "d125" = 6
  dimension "d127" = 1
  dimension "d129" = 6
  dimension "d131" = 1
  dimension "d132" = 7
  dimension "d133" = 7
  dimension "d135" = 6
  dimension "d137" = 1
  dimension "d138" = 7.5
  dimension "d139" = 6
  dimension "d141" = 1
  dimension "d142" = 7.5
  dimension "d144" = 8
  dimension "d145" = 8
  dimension "d146" = 8.5
  dimension "d147" = 8.5
extrude "Extrude6" cut sketch "Servo_Mount" against normal blind 8 contours A0 | A1 | A2 | A3 | A17 | A18 | A19 | A20
extrude "Extrude7" add sketch "Back_Side" along normal blind 8 contours L0 L3 L15 L16 L17 A11 A12 A13 L18 L19 A14 L46 L47 L48 A32 | L2 L3 L32 L33 L34 L35 L36 A25 A26 A27 A28 L43 L44 L45 A31 | L0 L10 L11 L12 A7 A8 L13 L14 A9 A10 L40 L41 L42 A30 | L0 L1 L4 L5 L6 A1 A2 A3 L7 L8 L9 A4 A5 A6 | L2 L26 L27 L28 L29 L30 L31 A21 A22 A23 A24 L37 L38 L39 A29 | L1 L2 L20 L21 L22 A15 A16 L23 L24 L25 A17 A18 A19 A20
fillet "Fillet1" radius 1 1 edges at (0, 1, 0)
fillet "Fillet2" radius 1 1 edges at (0, 1, -63)
fillet "Fillet3" radius 1 1 edges at (44, 1, -63)
fillet "Fillet4" radius 1 1 edges at (44, 1, 0)
sketch "Through_Holes_Tube" plane through (0, 0, 0) normal (0, 0, 1) x (1, 0, 0)
  line L0 (43, -8) -> (43, 2)
  line L1 (43, 2) -> (1, 2)
  line L2 (1, 2) -> (1, -8)
  line L3 (1, -8) -> (9.75, -8)
  line L4 (9.75, -8) -> (9.75, 0)
  line L5 (9.75, 0) -> (34.25, 0)
  line L6 (34.25, 0) -> (34.25, -8)
  line L7 (34.25, -8) -> (43, -8)
  circle A0 centre (38.25, -4.25) radius 2.5
  circle A1 centre (5.75, -4.25) radius 2.5
  dimension "d158" = 5
  dimension "d159" = 4
  dimension "d161" = 3.75
  dimension "d162" = 5
  dimension "d163" = 3.75
  dimension "d164" = 4
extrude "Extrude8" cut sketch "Through_Holes_Tube" against normal blind 76 contours A0 | A1
